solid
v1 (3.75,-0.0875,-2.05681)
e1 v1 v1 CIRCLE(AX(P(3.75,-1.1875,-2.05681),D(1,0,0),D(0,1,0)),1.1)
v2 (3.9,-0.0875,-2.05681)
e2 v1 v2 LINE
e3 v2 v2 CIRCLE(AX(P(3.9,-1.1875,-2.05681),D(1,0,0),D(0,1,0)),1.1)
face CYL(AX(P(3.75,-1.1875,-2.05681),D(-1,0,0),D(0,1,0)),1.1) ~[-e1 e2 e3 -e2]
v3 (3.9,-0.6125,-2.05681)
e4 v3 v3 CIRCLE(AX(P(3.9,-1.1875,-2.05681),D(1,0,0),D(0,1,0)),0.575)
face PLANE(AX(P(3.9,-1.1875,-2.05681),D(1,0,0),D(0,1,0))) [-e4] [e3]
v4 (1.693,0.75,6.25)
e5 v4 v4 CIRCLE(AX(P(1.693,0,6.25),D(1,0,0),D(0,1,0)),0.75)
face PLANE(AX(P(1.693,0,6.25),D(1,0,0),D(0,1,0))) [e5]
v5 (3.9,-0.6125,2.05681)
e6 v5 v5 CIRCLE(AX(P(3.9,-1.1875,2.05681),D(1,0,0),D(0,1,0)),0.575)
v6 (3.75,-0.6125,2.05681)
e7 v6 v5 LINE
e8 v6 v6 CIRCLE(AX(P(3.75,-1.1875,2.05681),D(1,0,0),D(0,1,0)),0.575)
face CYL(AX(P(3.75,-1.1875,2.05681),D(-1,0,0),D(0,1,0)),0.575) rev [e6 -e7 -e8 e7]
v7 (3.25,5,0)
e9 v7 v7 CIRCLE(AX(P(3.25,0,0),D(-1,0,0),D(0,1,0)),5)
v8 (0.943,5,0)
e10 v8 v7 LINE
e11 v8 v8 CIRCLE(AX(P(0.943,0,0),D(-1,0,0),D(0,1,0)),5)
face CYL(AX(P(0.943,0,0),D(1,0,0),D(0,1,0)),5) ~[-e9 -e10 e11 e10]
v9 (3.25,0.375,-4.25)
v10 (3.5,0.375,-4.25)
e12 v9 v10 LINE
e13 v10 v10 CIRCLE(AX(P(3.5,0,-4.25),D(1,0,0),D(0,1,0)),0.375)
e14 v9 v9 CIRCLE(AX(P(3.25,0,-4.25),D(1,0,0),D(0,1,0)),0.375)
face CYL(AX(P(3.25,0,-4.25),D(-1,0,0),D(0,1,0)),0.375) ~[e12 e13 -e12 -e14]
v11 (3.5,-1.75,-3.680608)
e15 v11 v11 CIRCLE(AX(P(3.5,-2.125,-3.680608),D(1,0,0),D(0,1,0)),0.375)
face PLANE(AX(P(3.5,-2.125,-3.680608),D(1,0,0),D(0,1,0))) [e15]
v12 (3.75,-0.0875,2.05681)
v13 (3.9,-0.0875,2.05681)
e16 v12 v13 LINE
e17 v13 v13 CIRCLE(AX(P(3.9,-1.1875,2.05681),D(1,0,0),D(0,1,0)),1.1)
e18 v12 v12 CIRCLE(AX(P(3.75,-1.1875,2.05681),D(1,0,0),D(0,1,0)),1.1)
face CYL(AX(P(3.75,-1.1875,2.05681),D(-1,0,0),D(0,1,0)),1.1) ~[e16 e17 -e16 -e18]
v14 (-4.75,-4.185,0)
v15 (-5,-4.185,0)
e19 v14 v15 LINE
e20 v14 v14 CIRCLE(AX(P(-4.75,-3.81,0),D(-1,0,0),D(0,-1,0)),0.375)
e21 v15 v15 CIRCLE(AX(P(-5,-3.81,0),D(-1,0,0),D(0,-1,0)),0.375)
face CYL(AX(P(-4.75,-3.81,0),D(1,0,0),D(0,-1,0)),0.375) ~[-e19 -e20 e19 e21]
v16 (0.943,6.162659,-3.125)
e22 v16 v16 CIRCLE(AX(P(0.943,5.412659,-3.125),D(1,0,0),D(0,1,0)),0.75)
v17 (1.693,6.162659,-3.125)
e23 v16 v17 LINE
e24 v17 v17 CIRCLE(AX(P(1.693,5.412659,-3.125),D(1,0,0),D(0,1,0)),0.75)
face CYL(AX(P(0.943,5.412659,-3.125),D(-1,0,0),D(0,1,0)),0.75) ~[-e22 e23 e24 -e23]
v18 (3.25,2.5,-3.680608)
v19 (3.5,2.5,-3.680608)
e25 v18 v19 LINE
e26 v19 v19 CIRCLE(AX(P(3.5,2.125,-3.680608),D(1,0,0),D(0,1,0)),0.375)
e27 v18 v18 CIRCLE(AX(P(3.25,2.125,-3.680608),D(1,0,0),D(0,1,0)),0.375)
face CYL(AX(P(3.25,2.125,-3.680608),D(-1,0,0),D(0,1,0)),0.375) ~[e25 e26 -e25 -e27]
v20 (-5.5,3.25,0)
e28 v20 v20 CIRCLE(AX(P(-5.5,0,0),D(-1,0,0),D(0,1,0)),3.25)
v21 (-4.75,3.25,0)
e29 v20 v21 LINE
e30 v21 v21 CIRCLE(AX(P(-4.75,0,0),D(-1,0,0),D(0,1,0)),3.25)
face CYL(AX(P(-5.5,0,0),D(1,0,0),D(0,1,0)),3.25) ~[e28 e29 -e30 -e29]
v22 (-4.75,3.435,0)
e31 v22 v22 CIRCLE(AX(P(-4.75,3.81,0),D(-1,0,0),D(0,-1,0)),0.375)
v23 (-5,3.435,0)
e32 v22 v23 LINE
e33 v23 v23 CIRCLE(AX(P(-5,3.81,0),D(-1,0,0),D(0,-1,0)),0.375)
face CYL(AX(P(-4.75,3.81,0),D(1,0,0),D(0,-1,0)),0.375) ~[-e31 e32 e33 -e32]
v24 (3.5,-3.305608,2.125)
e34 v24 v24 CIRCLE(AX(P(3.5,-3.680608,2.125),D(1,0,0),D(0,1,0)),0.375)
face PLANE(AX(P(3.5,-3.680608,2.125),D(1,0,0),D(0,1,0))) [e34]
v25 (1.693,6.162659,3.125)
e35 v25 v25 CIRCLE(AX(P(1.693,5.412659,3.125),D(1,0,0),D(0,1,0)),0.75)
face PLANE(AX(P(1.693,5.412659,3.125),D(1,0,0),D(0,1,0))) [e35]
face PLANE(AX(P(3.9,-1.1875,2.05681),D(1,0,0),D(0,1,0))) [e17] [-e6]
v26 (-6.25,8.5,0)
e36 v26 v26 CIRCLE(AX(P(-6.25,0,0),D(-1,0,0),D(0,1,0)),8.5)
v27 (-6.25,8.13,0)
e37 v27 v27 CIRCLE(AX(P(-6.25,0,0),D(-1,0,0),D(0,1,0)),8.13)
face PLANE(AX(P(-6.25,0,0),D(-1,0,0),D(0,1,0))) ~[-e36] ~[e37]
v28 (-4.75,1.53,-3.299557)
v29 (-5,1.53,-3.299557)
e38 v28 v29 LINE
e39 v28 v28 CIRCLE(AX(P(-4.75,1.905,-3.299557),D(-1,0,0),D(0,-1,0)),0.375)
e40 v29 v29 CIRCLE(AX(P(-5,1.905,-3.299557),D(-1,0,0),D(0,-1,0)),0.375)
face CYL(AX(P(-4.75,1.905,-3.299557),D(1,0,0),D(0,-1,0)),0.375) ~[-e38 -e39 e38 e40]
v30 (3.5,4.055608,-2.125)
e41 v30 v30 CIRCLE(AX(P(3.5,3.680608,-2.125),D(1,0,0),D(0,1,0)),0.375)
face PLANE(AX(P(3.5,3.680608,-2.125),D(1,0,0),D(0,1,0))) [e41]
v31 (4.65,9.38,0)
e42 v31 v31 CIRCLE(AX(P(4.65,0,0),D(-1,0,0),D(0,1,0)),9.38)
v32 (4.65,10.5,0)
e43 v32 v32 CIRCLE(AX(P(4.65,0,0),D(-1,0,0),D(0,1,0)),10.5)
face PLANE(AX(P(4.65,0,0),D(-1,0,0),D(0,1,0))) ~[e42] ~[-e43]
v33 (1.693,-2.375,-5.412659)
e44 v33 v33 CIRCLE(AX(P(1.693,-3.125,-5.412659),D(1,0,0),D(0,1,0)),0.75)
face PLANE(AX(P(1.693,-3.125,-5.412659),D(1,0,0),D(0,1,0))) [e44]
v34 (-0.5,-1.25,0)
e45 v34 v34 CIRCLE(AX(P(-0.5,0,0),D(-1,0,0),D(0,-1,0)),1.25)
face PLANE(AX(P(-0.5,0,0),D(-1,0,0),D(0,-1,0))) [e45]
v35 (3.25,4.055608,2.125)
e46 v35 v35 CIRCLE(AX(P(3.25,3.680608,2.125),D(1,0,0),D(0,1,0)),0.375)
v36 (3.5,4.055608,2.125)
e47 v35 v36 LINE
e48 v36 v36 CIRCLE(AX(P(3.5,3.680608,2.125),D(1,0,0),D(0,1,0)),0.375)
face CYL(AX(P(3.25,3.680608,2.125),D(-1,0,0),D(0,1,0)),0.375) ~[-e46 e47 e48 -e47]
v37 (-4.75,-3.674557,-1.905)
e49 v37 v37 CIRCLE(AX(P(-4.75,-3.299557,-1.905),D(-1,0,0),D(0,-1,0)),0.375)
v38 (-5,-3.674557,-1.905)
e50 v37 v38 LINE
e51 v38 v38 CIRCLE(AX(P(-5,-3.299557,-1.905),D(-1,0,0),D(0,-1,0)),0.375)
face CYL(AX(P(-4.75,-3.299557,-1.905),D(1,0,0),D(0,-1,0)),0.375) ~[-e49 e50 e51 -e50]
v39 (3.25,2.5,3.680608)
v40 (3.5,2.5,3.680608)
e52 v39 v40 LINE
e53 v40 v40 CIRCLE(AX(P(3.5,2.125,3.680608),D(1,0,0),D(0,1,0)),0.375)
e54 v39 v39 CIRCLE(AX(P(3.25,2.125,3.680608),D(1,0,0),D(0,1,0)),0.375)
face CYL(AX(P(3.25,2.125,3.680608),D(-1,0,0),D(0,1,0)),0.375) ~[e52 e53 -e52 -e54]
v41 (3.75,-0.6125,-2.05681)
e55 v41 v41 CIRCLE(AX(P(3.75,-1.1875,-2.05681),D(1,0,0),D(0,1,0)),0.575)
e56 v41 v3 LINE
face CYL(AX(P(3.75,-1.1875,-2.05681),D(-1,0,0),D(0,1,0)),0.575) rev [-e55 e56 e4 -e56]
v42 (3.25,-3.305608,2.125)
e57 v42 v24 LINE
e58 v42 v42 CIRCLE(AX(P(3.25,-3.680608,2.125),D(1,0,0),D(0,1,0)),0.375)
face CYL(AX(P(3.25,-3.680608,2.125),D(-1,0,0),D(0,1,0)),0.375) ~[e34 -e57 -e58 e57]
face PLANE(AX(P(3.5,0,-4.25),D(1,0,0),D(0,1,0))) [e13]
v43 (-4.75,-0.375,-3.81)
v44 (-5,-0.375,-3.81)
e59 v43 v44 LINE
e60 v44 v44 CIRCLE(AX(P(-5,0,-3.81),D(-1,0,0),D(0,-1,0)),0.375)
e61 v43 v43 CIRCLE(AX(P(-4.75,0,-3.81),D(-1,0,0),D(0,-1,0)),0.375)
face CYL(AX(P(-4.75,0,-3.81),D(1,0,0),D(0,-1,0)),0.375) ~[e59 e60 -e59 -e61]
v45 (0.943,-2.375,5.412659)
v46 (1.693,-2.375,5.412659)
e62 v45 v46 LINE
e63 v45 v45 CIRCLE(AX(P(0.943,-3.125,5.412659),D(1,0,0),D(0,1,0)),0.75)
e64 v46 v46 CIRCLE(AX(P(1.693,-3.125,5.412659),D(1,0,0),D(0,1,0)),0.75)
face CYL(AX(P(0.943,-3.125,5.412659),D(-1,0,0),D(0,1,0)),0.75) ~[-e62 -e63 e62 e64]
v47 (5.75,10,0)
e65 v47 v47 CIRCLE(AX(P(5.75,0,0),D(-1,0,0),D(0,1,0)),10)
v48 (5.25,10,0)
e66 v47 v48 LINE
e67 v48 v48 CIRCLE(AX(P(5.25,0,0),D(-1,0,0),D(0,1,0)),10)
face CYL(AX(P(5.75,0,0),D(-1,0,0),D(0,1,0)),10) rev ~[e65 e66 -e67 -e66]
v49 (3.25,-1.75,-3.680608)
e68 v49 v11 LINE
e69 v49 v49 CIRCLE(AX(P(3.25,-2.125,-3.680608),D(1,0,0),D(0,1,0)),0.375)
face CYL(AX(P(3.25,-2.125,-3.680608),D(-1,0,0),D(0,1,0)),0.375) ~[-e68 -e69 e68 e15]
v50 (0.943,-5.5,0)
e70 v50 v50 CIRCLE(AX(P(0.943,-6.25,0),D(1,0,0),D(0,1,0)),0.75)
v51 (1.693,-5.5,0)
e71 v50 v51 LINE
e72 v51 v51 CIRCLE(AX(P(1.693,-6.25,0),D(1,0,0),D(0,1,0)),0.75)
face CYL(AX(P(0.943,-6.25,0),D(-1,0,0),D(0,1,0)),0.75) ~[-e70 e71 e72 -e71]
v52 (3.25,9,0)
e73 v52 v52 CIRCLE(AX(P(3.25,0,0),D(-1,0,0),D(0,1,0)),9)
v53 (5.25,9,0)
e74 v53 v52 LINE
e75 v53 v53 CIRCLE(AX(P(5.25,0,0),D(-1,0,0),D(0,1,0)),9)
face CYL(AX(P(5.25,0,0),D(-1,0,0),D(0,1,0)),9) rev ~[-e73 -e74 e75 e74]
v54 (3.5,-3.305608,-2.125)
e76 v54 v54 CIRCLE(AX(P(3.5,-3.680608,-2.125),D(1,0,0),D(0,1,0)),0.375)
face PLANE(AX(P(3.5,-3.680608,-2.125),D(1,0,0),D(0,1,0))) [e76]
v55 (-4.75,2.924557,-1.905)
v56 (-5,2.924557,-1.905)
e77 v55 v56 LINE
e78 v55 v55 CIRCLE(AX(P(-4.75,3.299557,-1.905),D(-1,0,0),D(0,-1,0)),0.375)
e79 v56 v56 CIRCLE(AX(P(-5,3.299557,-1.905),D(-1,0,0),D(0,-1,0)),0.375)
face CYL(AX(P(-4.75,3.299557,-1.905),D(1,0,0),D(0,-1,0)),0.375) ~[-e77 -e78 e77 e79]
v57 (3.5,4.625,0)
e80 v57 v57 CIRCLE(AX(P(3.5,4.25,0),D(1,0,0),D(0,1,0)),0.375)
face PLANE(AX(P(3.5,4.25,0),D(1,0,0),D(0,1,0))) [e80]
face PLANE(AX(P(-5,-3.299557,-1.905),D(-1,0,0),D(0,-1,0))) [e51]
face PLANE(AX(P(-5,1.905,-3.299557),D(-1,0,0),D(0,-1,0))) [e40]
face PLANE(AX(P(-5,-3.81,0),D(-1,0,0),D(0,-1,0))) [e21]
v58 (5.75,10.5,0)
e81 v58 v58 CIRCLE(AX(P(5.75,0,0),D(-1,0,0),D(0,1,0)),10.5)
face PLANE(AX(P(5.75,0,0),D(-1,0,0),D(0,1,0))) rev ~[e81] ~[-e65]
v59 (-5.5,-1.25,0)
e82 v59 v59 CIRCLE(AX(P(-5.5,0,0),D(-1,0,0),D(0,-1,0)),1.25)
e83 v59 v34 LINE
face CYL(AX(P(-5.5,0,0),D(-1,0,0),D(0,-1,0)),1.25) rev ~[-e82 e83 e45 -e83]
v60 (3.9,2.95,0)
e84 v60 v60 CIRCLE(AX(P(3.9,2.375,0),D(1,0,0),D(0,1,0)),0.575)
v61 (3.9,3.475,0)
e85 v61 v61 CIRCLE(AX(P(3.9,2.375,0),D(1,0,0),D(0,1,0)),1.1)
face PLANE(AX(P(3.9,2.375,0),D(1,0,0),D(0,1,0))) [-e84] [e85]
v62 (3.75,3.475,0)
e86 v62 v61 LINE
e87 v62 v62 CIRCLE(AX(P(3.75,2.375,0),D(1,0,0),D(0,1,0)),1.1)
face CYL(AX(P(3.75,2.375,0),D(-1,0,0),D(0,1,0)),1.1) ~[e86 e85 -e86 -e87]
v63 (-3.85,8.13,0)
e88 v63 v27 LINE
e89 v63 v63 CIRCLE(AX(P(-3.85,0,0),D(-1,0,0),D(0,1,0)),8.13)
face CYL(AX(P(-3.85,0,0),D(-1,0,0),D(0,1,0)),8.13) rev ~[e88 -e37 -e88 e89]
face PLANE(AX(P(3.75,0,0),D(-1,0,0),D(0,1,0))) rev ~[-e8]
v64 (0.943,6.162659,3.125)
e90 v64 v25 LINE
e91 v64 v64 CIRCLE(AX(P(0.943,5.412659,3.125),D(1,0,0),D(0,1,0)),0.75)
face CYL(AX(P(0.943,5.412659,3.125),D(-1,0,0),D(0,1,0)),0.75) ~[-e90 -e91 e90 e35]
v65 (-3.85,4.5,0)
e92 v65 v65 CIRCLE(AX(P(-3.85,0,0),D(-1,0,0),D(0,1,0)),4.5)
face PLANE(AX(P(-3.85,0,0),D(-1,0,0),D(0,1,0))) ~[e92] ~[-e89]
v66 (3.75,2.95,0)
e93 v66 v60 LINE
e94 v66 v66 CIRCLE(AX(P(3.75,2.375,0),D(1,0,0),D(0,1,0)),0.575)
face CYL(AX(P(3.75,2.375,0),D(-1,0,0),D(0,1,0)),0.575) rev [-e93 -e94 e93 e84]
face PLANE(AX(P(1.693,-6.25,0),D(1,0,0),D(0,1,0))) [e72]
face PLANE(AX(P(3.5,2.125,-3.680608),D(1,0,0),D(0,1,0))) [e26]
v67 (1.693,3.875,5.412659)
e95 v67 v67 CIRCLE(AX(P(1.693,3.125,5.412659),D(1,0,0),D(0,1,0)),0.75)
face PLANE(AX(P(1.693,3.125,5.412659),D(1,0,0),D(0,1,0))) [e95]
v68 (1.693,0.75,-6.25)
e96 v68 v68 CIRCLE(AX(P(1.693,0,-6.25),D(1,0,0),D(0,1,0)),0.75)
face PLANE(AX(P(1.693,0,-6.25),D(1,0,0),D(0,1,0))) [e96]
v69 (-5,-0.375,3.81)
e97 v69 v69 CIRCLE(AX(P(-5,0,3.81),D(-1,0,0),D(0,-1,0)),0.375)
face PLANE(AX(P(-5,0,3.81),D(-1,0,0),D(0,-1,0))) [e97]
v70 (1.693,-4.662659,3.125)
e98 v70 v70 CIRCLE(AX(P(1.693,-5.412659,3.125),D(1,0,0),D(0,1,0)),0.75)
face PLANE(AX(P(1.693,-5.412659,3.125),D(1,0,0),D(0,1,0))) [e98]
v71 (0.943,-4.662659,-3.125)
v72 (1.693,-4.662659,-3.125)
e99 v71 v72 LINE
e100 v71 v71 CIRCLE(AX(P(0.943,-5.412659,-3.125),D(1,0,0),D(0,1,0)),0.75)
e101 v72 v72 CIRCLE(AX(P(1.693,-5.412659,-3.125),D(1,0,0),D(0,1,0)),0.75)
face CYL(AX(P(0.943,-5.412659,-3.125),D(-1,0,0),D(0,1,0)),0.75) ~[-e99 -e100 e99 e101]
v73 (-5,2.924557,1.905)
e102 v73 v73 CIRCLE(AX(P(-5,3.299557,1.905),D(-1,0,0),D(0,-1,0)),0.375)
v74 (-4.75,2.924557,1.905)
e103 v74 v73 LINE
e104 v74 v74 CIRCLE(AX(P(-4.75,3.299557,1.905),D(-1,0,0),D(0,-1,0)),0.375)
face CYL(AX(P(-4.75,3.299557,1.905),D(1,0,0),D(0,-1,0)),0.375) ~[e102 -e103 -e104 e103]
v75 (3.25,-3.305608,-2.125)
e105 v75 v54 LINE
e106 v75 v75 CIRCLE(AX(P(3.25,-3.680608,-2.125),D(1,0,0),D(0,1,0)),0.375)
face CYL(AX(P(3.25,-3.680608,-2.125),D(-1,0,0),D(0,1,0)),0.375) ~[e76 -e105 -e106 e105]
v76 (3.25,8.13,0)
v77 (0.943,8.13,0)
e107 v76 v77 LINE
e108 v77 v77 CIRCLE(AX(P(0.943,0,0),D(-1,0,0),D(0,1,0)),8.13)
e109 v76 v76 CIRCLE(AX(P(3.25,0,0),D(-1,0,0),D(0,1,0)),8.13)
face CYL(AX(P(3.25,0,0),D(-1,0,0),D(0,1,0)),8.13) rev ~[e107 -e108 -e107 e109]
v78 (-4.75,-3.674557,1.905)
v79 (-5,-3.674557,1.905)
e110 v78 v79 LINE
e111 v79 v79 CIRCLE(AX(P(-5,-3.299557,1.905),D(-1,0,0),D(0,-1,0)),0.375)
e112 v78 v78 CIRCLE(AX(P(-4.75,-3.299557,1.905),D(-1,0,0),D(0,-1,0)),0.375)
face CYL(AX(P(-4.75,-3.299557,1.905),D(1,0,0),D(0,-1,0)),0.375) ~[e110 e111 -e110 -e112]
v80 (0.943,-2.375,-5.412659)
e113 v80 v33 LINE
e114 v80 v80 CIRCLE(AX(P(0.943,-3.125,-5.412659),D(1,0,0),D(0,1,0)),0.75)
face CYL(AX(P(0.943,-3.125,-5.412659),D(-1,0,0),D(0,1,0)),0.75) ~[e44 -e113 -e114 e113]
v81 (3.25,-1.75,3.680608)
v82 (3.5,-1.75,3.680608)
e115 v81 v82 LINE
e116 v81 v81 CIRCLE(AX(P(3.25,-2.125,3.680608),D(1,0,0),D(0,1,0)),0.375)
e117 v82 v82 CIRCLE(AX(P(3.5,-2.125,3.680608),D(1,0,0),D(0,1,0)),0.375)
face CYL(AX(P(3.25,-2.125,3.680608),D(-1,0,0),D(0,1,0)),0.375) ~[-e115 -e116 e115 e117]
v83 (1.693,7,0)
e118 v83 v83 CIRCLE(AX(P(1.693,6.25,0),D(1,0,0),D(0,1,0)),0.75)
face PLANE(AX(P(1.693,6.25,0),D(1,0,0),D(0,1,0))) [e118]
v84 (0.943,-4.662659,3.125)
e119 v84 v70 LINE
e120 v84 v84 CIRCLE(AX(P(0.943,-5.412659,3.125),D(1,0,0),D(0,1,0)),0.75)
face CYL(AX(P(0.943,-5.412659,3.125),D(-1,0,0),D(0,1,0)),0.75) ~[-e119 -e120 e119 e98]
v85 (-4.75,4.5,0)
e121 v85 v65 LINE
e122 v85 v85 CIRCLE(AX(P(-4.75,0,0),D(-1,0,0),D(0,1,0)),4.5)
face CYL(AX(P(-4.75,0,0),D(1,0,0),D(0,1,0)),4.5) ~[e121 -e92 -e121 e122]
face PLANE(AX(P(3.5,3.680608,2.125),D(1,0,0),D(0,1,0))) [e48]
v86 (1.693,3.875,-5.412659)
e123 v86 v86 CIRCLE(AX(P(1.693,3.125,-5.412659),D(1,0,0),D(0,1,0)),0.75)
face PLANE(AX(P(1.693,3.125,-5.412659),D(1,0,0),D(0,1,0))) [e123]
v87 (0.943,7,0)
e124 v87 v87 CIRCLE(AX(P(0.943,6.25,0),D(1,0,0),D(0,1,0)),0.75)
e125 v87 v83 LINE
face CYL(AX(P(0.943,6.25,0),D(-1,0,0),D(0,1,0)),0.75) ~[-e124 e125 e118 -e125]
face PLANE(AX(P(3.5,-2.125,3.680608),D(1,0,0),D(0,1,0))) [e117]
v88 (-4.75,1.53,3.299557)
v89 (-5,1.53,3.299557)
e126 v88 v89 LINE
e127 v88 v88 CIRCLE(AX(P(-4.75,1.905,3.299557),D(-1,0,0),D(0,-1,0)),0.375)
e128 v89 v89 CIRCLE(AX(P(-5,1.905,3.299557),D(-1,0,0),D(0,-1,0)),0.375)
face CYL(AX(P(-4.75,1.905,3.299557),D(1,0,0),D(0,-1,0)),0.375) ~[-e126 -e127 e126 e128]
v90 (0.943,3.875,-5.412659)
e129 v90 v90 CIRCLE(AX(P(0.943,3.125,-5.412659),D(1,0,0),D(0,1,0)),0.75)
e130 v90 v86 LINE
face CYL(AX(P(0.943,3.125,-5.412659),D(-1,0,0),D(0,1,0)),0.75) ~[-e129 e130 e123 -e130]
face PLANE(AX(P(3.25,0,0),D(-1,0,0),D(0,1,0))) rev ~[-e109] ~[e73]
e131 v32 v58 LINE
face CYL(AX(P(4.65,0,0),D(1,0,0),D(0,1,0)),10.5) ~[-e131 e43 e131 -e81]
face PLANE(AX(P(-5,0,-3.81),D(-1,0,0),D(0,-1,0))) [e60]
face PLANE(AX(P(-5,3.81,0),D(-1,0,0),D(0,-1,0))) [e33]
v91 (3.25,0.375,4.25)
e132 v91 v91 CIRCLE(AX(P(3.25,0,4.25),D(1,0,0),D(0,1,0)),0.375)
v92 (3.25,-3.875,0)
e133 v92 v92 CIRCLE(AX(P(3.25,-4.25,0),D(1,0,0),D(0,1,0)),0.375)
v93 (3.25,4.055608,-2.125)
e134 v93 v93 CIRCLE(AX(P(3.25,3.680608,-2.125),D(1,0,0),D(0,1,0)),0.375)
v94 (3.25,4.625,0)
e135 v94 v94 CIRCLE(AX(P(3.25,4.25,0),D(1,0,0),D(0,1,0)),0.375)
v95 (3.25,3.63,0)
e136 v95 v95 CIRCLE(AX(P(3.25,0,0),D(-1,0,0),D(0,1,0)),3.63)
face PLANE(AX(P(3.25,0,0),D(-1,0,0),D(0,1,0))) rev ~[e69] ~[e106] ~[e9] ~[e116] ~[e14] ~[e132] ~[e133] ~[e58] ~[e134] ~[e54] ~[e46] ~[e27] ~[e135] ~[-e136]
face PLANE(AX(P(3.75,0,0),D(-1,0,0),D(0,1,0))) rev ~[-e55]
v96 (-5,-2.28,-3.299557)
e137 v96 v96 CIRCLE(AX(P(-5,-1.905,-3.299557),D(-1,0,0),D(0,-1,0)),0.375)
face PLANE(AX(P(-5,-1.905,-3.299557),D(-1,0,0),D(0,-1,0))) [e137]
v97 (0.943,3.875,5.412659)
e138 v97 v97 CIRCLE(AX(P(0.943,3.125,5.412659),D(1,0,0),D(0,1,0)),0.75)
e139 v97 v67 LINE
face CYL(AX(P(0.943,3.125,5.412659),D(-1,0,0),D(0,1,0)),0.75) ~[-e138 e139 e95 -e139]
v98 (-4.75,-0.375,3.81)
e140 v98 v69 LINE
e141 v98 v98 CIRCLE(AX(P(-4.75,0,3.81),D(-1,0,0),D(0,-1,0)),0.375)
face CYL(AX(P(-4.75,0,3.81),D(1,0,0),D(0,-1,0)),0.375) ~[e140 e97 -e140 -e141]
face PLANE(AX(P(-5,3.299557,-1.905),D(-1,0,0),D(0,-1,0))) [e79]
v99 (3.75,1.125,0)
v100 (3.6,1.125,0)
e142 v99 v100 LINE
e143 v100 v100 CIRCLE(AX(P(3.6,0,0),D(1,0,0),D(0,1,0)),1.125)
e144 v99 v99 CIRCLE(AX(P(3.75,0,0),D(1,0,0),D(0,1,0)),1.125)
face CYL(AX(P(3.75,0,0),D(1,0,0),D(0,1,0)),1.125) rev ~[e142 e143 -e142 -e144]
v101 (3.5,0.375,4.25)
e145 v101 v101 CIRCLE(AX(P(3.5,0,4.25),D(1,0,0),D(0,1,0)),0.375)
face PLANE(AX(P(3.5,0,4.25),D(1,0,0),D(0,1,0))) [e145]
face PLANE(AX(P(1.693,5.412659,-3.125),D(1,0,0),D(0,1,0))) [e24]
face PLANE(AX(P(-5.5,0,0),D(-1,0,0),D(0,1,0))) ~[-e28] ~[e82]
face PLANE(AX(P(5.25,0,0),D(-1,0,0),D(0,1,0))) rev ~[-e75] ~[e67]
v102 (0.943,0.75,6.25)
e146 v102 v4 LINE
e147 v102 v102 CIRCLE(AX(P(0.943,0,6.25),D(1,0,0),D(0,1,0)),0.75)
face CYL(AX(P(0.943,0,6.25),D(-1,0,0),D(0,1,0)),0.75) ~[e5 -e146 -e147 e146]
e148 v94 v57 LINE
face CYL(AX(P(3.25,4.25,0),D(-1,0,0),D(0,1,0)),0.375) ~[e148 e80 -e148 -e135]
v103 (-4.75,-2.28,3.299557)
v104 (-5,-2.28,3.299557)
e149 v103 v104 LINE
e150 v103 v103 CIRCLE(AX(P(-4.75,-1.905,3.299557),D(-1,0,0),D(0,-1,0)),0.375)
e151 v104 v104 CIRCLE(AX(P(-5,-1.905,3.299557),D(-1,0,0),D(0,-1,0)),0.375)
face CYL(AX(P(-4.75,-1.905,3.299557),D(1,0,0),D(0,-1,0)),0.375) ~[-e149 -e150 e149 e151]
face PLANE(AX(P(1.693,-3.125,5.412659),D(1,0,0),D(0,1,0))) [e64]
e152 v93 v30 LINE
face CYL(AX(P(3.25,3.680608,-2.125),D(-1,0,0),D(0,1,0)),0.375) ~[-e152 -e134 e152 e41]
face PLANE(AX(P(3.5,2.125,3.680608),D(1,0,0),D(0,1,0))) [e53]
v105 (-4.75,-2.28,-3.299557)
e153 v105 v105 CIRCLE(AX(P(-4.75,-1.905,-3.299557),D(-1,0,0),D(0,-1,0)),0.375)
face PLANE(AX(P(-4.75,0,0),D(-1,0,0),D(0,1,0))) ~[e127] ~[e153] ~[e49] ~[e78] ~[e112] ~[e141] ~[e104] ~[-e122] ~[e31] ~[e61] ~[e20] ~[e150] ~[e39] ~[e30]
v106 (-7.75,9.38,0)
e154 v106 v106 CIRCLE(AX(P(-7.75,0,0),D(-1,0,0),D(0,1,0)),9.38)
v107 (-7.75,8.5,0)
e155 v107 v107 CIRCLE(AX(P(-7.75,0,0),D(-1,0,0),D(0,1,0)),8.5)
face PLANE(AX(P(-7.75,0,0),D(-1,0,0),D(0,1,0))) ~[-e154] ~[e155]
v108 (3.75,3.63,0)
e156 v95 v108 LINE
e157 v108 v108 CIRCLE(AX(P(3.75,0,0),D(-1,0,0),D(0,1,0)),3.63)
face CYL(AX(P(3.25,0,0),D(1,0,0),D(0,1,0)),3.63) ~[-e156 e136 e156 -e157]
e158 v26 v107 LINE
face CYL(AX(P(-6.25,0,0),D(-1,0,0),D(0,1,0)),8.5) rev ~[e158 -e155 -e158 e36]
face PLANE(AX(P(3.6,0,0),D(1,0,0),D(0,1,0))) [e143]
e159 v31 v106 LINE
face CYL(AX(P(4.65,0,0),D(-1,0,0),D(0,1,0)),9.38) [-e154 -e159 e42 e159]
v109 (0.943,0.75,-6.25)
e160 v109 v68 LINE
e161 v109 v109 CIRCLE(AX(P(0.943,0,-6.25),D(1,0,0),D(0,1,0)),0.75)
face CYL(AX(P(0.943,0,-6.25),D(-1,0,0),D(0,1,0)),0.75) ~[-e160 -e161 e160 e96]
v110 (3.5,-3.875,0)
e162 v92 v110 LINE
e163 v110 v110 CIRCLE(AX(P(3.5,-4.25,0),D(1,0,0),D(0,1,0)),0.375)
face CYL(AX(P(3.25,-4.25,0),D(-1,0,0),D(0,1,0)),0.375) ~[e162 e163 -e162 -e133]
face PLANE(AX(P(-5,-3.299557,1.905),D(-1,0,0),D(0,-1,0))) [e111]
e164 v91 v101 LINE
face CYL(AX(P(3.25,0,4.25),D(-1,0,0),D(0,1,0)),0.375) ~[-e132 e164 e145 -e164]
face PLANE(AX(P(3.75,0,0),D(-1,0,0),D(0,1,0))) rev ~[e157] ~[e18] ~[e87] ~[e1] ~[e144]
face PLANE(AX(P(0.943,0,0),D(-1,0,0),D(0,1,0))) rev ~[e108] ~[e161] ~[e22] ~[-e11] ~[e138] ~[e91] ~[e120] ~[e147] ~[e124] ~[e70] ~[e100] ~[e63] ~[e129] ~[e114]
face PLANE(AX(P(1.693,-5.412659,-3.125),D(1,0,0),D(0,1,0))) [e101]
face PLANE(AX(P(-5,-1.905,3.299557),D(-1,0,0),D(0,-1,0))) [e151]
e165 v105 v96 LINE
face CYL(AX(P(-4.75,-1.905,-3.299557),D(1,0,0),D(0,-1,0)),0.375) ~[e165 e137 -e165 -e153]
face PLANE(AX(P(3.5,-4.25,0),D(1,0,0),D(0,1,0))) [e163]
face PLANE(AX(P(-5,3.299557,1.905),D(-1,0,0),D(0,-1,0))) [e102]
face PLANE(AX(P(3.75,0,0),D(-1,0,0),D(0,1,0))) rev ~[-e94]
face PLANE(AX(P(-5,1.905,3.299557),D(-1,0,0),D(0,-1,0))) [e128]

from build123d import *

# Parameters (mm, degrees)
SKETCH2_R           = 0.75
BOSS_EXTRUDE1_DEPTH = 0.75
SKETCH3_R           = 0.375
BOSS_EXTRUDE2_DEPTH = 0.25
SKETCH5_R           = 1.125
CUT_EXTRUDE1_DEPTH  = 0.15
SKETCH6_R           = 1.1
SKETCH6_R_2         = 0.575
BOSS_EXTRUDE3_DEPTH = 0.15
SKETCH7_R           = 0.375
BOSS_EXTRUDE4_DEPTH = 0.25
SKETCH8_R           = 1.25
CUT_EXTRUDE2_DEPTH  = 5


with BuildPart() as part:
    # Sketch1 → Revolve1 (revolve)
    with BuildSketch(Plane.XY):
        Polygon((3.75, 0), (0, 0), (-5.5, 0), (-5.5, 3.25), (-4.75, 3.25), (-4.75, 4.5), (-3.85, 4.5), (-3.85, 8.13), (-6.25, 8.13), (-6.25, 8.5), (-7.75, 8.5), (-7.75, 9.38), (0, 9.38), (4.65, 9.38), (4.65, 10.5), (5.75, 10.5), (5.75, 10), (5.25, 10), (5.25, 9), (3.25, 9), (3.25, 8.13), (0.943, 8.13), (0.943, 5), (3.25, 5), (3.25, 3.63), (3.75, 3.63), align=None)
    revolve(axis=Axis((0, 0, 0), (-1, 0, 0)))

    # Sketch2 → Boss-Extrude1 (add)
    with BuildSketch(Plane(origin=(0.943, 0, 0), x_dir=(0, 0, -1), z_dir=(1, 0, 0))):
        with Locations(Location((0, 6.25, 0), (0, 0, 90))):
            Circle(SKETCH2_R)
        with Locations(Location((3.125, 5.412658774, 0), (0, 0, 90))):
            Circle(SKETCH2_R)
        with Locations(Location((5.412658774, 3.125, 0), (0, 0, 90))):
            Circle(SKETCH2_R)
        with Locations(Location((6.25, 0, 0), (0, 0, 90))):
            Circle(SKETCH2_R)
        with Locations(Location((5.412658774, -3.125, 0), (0, 0, 90))):
            Circle(SKETCH2_R)
        with Locations(Location((3.125, -5.412658774, 0), (0, 0, 90))):
            Circle(SKETCH2_R)
        with Locations(Location((0, -6.25, 0), (0, 0, 90))):
            Circle(SKETCH2_R)
        with Locations(Location((-3.125, -5.412658774, 0), (0, 0, 90))):
            Circle(SKETCH2_R)
        with Locations(Location((-5.412658774, -3.125, 0), (0, 0, 90))):
            Circle(SKETCH2_R)
        with Locations(Location((-6.25, 0, 0), (0, 0, 90))):
            Circle(SKETCH2_R)
        with Locations(Location((-5.412658774, 3.125, 0), (0, 0, 90))):
            Circle(SKETCH2_R)
        with Locations(Location((-3.125, 5.412658774, 0), (0, 0, 90))):
            Circle(SKETCH2_R)
    extrude(amount=BOSS_EXTRUDE1_DEPTH)

    # Sketch3 → Boss-Extrude2 (add)
    with BuildSketch(Plane(origin=(3.25, 0, 0), x_dir=(0, 0, -1), z_dir=(1, 0, 0))):
        with Locations(Location((0, 4.25, 0), (0, 0, 90))):
            Circle(SKETCH3_R)
        with Locations(Location((2.125, 3.680607966, 0), (0, 0, 90))):
            Circle(SKETCH3_R)
        with Locations(Location((3.680607966, 2.125, 0), (0, 0, 90))):
            Circle(SKETCH3_R)
        with Locations(Location((4.25, 0, 0), (0, 0, 90))):
            Circle(SKETCH3_R)
        with Locations(Location((3.680607966, -2.125, 0), (0, 0, 90))):
            Circle(SKETCH3_R)
        with Locations(Location((2.125, -3.680607966, 0), (0, 0, 90))):
            Circle(SKETCH3_R)
        with Locations(Location((0, -4.25, 0), (0, 0, 90))):
            Circle(SKETCH3_R)
        with Locations(Location((-2.125, -3.680607966, 0), (0, 0, 90))):
            Circle(SKETCH3_R)
        with Locations(Location((-3.680607966, -2.125, 0), (0, 0, 90))):
            Circle(SKETCH3_R)
        with Locations(Location((-4.25, 0, 0), (0, 0, 90))):
            Circle(SKETCH3_R)
        with Locations(Location((-3.680607966, 2.125, 0), (0, 0, 90))):
            Circle(SKETCH3_R)
        with Locations(Location((-2.125, 3.680607966, 0), (0, 0, 90))):
            Circle(SKETCH3_R)
    extrude(amount=BOSS_EXTRUDE2_DEPTH)

    # Sketch5 → Cut-Extrude1 (cut)
    with BuildSketch(Plane(origin=(3.75, 0, 0), x_dir=(0, 0, -1), z_dir=(1, 0, 0))):
        with Locations(Location((0, 0, 0), (0, 0, 90))):
            Circle(SKETCH5_R)
    extrude(amount=-CUT_EXTRUDE1_DEPTH, mode=Mode.SUBTRACT)

    # Sketch6 → Boss-Extrude3 (add)
    # profile 1 of 3: a face of its own
    with BuildSketch(Plane(origin=(3.75, 0, 0), x_dir=(0, 0, -1), z_dir=(1, 0, 0))):
        with Locations(Location((0, 2.375, 0), (0, 0, 90))):
            Circle(SKETCH6_R)
        with Locations(Location((0, 2.375, 0), (0, 0, 90))):
            Circle(SKETCH6_R_2, mode=Mode.SUBTRACT)
    # profile 2 of 3: a face of its own
    with BuildSketch(Plane(origin=(3.75, 0, 0), x_dir=(0, 0, -1), z_dir=(1, 0, 0))):
        with Locations(Location((2.056810334, -1.1875, 0), (0, 0, 90))):
            Circle(SKETCH6_R)
        with Locations(Location((2.056810334, -1.1875, 0), (0, 0, 90))):
            Circle(SKETCH6_R_2, mode=Mode.SUBTRACT)
    # profile 3 of 3: a face of its own
    with BuildSketch(Plane(origin=(3.75, 0, 0), x_dir=(0, 0, -1), z_dir=(1, 0, 0))):
        with Locations(Location((-2.056810334, -1.1875, 0), (0, 0, 90))):
            Circle(SKETCH6_R)
        with Locations(Location((-2.056810334, -1.1875, 0), (0, 0, 90))):
            Circle(SKETCH6_R_2, mode=Mode.SUBTRACT)
    extrude(amount=BOSS_EXTRUDE3_DEPTH)

    # Sketch7 → Boss-Extrude4 (add)
    with BuildSketch(Plane.ZY.offset(4.75)):
        with Locations(Location((0, 3.81, 0), (0, 0, 270))):
            Circle(SKETCH7_R)
        with Locations(Location((1.905, 3.299556788, 0), (0, 0, 270))):
            Circle(SKETCH7_R)
        with Locations(Location((3.299556788, 1.905, 0), (0, 0, 270))):
            Circle(SKETCH7_R)
        with Locations(Location((3.81, 0, 0), (0, 0, 270))):
            Circle(SKETCH7_R)
        with Locations(Location((3.299556788, -1.905, 0), (0, 0, 270))):
            Circle(SKETCH7_R)
        with Locations(Location((1.905, -3.299556788, 0), (0, 0, 270))):
            Circle(SKETCH7_R)
        with Locations(Location((0, -3.81, 0), (0, 0, 270))):
            Circle(SKETCH7_R)
        with Locations(Location((-1.905, -3.299556788, 0), (0, 0, 270))):
            Circle(SKETCH7_R)
        with Locations(Location((-3.299556788, -1.905, 0), (0, 0, 270))):
            Circle(SKETCH7_R)
        with Locations(Location((-3.81, 0, 0), (0, 0, 270))):
            Circle(SKETCH7_R)
        with Locations(Location((-3.299556788, 1.905, 0), (0, 0, 270))):
            Circle(SKETCH7_R)
        with Locations(Location((-1.905, 3.299556788, 0), (0, 0, 270))):
            Circle(SKETCH7_R)
    extrude(amount=BOSS_EXTRUDE4_DEPTH)

    # Sketch8 → Cut-Extrude2 (cut)
    with BuildSketch(Plane.ZY.offset(5.5)):
        with Locations(Location((0, 0, 0), (0, 0, 270))):
            Circle(SKETCH8_R)
    extrude(amount=-CUT_EXTRUDE2_DEPTH, mode=Mode.SUBTRACT)


solid = part.part
